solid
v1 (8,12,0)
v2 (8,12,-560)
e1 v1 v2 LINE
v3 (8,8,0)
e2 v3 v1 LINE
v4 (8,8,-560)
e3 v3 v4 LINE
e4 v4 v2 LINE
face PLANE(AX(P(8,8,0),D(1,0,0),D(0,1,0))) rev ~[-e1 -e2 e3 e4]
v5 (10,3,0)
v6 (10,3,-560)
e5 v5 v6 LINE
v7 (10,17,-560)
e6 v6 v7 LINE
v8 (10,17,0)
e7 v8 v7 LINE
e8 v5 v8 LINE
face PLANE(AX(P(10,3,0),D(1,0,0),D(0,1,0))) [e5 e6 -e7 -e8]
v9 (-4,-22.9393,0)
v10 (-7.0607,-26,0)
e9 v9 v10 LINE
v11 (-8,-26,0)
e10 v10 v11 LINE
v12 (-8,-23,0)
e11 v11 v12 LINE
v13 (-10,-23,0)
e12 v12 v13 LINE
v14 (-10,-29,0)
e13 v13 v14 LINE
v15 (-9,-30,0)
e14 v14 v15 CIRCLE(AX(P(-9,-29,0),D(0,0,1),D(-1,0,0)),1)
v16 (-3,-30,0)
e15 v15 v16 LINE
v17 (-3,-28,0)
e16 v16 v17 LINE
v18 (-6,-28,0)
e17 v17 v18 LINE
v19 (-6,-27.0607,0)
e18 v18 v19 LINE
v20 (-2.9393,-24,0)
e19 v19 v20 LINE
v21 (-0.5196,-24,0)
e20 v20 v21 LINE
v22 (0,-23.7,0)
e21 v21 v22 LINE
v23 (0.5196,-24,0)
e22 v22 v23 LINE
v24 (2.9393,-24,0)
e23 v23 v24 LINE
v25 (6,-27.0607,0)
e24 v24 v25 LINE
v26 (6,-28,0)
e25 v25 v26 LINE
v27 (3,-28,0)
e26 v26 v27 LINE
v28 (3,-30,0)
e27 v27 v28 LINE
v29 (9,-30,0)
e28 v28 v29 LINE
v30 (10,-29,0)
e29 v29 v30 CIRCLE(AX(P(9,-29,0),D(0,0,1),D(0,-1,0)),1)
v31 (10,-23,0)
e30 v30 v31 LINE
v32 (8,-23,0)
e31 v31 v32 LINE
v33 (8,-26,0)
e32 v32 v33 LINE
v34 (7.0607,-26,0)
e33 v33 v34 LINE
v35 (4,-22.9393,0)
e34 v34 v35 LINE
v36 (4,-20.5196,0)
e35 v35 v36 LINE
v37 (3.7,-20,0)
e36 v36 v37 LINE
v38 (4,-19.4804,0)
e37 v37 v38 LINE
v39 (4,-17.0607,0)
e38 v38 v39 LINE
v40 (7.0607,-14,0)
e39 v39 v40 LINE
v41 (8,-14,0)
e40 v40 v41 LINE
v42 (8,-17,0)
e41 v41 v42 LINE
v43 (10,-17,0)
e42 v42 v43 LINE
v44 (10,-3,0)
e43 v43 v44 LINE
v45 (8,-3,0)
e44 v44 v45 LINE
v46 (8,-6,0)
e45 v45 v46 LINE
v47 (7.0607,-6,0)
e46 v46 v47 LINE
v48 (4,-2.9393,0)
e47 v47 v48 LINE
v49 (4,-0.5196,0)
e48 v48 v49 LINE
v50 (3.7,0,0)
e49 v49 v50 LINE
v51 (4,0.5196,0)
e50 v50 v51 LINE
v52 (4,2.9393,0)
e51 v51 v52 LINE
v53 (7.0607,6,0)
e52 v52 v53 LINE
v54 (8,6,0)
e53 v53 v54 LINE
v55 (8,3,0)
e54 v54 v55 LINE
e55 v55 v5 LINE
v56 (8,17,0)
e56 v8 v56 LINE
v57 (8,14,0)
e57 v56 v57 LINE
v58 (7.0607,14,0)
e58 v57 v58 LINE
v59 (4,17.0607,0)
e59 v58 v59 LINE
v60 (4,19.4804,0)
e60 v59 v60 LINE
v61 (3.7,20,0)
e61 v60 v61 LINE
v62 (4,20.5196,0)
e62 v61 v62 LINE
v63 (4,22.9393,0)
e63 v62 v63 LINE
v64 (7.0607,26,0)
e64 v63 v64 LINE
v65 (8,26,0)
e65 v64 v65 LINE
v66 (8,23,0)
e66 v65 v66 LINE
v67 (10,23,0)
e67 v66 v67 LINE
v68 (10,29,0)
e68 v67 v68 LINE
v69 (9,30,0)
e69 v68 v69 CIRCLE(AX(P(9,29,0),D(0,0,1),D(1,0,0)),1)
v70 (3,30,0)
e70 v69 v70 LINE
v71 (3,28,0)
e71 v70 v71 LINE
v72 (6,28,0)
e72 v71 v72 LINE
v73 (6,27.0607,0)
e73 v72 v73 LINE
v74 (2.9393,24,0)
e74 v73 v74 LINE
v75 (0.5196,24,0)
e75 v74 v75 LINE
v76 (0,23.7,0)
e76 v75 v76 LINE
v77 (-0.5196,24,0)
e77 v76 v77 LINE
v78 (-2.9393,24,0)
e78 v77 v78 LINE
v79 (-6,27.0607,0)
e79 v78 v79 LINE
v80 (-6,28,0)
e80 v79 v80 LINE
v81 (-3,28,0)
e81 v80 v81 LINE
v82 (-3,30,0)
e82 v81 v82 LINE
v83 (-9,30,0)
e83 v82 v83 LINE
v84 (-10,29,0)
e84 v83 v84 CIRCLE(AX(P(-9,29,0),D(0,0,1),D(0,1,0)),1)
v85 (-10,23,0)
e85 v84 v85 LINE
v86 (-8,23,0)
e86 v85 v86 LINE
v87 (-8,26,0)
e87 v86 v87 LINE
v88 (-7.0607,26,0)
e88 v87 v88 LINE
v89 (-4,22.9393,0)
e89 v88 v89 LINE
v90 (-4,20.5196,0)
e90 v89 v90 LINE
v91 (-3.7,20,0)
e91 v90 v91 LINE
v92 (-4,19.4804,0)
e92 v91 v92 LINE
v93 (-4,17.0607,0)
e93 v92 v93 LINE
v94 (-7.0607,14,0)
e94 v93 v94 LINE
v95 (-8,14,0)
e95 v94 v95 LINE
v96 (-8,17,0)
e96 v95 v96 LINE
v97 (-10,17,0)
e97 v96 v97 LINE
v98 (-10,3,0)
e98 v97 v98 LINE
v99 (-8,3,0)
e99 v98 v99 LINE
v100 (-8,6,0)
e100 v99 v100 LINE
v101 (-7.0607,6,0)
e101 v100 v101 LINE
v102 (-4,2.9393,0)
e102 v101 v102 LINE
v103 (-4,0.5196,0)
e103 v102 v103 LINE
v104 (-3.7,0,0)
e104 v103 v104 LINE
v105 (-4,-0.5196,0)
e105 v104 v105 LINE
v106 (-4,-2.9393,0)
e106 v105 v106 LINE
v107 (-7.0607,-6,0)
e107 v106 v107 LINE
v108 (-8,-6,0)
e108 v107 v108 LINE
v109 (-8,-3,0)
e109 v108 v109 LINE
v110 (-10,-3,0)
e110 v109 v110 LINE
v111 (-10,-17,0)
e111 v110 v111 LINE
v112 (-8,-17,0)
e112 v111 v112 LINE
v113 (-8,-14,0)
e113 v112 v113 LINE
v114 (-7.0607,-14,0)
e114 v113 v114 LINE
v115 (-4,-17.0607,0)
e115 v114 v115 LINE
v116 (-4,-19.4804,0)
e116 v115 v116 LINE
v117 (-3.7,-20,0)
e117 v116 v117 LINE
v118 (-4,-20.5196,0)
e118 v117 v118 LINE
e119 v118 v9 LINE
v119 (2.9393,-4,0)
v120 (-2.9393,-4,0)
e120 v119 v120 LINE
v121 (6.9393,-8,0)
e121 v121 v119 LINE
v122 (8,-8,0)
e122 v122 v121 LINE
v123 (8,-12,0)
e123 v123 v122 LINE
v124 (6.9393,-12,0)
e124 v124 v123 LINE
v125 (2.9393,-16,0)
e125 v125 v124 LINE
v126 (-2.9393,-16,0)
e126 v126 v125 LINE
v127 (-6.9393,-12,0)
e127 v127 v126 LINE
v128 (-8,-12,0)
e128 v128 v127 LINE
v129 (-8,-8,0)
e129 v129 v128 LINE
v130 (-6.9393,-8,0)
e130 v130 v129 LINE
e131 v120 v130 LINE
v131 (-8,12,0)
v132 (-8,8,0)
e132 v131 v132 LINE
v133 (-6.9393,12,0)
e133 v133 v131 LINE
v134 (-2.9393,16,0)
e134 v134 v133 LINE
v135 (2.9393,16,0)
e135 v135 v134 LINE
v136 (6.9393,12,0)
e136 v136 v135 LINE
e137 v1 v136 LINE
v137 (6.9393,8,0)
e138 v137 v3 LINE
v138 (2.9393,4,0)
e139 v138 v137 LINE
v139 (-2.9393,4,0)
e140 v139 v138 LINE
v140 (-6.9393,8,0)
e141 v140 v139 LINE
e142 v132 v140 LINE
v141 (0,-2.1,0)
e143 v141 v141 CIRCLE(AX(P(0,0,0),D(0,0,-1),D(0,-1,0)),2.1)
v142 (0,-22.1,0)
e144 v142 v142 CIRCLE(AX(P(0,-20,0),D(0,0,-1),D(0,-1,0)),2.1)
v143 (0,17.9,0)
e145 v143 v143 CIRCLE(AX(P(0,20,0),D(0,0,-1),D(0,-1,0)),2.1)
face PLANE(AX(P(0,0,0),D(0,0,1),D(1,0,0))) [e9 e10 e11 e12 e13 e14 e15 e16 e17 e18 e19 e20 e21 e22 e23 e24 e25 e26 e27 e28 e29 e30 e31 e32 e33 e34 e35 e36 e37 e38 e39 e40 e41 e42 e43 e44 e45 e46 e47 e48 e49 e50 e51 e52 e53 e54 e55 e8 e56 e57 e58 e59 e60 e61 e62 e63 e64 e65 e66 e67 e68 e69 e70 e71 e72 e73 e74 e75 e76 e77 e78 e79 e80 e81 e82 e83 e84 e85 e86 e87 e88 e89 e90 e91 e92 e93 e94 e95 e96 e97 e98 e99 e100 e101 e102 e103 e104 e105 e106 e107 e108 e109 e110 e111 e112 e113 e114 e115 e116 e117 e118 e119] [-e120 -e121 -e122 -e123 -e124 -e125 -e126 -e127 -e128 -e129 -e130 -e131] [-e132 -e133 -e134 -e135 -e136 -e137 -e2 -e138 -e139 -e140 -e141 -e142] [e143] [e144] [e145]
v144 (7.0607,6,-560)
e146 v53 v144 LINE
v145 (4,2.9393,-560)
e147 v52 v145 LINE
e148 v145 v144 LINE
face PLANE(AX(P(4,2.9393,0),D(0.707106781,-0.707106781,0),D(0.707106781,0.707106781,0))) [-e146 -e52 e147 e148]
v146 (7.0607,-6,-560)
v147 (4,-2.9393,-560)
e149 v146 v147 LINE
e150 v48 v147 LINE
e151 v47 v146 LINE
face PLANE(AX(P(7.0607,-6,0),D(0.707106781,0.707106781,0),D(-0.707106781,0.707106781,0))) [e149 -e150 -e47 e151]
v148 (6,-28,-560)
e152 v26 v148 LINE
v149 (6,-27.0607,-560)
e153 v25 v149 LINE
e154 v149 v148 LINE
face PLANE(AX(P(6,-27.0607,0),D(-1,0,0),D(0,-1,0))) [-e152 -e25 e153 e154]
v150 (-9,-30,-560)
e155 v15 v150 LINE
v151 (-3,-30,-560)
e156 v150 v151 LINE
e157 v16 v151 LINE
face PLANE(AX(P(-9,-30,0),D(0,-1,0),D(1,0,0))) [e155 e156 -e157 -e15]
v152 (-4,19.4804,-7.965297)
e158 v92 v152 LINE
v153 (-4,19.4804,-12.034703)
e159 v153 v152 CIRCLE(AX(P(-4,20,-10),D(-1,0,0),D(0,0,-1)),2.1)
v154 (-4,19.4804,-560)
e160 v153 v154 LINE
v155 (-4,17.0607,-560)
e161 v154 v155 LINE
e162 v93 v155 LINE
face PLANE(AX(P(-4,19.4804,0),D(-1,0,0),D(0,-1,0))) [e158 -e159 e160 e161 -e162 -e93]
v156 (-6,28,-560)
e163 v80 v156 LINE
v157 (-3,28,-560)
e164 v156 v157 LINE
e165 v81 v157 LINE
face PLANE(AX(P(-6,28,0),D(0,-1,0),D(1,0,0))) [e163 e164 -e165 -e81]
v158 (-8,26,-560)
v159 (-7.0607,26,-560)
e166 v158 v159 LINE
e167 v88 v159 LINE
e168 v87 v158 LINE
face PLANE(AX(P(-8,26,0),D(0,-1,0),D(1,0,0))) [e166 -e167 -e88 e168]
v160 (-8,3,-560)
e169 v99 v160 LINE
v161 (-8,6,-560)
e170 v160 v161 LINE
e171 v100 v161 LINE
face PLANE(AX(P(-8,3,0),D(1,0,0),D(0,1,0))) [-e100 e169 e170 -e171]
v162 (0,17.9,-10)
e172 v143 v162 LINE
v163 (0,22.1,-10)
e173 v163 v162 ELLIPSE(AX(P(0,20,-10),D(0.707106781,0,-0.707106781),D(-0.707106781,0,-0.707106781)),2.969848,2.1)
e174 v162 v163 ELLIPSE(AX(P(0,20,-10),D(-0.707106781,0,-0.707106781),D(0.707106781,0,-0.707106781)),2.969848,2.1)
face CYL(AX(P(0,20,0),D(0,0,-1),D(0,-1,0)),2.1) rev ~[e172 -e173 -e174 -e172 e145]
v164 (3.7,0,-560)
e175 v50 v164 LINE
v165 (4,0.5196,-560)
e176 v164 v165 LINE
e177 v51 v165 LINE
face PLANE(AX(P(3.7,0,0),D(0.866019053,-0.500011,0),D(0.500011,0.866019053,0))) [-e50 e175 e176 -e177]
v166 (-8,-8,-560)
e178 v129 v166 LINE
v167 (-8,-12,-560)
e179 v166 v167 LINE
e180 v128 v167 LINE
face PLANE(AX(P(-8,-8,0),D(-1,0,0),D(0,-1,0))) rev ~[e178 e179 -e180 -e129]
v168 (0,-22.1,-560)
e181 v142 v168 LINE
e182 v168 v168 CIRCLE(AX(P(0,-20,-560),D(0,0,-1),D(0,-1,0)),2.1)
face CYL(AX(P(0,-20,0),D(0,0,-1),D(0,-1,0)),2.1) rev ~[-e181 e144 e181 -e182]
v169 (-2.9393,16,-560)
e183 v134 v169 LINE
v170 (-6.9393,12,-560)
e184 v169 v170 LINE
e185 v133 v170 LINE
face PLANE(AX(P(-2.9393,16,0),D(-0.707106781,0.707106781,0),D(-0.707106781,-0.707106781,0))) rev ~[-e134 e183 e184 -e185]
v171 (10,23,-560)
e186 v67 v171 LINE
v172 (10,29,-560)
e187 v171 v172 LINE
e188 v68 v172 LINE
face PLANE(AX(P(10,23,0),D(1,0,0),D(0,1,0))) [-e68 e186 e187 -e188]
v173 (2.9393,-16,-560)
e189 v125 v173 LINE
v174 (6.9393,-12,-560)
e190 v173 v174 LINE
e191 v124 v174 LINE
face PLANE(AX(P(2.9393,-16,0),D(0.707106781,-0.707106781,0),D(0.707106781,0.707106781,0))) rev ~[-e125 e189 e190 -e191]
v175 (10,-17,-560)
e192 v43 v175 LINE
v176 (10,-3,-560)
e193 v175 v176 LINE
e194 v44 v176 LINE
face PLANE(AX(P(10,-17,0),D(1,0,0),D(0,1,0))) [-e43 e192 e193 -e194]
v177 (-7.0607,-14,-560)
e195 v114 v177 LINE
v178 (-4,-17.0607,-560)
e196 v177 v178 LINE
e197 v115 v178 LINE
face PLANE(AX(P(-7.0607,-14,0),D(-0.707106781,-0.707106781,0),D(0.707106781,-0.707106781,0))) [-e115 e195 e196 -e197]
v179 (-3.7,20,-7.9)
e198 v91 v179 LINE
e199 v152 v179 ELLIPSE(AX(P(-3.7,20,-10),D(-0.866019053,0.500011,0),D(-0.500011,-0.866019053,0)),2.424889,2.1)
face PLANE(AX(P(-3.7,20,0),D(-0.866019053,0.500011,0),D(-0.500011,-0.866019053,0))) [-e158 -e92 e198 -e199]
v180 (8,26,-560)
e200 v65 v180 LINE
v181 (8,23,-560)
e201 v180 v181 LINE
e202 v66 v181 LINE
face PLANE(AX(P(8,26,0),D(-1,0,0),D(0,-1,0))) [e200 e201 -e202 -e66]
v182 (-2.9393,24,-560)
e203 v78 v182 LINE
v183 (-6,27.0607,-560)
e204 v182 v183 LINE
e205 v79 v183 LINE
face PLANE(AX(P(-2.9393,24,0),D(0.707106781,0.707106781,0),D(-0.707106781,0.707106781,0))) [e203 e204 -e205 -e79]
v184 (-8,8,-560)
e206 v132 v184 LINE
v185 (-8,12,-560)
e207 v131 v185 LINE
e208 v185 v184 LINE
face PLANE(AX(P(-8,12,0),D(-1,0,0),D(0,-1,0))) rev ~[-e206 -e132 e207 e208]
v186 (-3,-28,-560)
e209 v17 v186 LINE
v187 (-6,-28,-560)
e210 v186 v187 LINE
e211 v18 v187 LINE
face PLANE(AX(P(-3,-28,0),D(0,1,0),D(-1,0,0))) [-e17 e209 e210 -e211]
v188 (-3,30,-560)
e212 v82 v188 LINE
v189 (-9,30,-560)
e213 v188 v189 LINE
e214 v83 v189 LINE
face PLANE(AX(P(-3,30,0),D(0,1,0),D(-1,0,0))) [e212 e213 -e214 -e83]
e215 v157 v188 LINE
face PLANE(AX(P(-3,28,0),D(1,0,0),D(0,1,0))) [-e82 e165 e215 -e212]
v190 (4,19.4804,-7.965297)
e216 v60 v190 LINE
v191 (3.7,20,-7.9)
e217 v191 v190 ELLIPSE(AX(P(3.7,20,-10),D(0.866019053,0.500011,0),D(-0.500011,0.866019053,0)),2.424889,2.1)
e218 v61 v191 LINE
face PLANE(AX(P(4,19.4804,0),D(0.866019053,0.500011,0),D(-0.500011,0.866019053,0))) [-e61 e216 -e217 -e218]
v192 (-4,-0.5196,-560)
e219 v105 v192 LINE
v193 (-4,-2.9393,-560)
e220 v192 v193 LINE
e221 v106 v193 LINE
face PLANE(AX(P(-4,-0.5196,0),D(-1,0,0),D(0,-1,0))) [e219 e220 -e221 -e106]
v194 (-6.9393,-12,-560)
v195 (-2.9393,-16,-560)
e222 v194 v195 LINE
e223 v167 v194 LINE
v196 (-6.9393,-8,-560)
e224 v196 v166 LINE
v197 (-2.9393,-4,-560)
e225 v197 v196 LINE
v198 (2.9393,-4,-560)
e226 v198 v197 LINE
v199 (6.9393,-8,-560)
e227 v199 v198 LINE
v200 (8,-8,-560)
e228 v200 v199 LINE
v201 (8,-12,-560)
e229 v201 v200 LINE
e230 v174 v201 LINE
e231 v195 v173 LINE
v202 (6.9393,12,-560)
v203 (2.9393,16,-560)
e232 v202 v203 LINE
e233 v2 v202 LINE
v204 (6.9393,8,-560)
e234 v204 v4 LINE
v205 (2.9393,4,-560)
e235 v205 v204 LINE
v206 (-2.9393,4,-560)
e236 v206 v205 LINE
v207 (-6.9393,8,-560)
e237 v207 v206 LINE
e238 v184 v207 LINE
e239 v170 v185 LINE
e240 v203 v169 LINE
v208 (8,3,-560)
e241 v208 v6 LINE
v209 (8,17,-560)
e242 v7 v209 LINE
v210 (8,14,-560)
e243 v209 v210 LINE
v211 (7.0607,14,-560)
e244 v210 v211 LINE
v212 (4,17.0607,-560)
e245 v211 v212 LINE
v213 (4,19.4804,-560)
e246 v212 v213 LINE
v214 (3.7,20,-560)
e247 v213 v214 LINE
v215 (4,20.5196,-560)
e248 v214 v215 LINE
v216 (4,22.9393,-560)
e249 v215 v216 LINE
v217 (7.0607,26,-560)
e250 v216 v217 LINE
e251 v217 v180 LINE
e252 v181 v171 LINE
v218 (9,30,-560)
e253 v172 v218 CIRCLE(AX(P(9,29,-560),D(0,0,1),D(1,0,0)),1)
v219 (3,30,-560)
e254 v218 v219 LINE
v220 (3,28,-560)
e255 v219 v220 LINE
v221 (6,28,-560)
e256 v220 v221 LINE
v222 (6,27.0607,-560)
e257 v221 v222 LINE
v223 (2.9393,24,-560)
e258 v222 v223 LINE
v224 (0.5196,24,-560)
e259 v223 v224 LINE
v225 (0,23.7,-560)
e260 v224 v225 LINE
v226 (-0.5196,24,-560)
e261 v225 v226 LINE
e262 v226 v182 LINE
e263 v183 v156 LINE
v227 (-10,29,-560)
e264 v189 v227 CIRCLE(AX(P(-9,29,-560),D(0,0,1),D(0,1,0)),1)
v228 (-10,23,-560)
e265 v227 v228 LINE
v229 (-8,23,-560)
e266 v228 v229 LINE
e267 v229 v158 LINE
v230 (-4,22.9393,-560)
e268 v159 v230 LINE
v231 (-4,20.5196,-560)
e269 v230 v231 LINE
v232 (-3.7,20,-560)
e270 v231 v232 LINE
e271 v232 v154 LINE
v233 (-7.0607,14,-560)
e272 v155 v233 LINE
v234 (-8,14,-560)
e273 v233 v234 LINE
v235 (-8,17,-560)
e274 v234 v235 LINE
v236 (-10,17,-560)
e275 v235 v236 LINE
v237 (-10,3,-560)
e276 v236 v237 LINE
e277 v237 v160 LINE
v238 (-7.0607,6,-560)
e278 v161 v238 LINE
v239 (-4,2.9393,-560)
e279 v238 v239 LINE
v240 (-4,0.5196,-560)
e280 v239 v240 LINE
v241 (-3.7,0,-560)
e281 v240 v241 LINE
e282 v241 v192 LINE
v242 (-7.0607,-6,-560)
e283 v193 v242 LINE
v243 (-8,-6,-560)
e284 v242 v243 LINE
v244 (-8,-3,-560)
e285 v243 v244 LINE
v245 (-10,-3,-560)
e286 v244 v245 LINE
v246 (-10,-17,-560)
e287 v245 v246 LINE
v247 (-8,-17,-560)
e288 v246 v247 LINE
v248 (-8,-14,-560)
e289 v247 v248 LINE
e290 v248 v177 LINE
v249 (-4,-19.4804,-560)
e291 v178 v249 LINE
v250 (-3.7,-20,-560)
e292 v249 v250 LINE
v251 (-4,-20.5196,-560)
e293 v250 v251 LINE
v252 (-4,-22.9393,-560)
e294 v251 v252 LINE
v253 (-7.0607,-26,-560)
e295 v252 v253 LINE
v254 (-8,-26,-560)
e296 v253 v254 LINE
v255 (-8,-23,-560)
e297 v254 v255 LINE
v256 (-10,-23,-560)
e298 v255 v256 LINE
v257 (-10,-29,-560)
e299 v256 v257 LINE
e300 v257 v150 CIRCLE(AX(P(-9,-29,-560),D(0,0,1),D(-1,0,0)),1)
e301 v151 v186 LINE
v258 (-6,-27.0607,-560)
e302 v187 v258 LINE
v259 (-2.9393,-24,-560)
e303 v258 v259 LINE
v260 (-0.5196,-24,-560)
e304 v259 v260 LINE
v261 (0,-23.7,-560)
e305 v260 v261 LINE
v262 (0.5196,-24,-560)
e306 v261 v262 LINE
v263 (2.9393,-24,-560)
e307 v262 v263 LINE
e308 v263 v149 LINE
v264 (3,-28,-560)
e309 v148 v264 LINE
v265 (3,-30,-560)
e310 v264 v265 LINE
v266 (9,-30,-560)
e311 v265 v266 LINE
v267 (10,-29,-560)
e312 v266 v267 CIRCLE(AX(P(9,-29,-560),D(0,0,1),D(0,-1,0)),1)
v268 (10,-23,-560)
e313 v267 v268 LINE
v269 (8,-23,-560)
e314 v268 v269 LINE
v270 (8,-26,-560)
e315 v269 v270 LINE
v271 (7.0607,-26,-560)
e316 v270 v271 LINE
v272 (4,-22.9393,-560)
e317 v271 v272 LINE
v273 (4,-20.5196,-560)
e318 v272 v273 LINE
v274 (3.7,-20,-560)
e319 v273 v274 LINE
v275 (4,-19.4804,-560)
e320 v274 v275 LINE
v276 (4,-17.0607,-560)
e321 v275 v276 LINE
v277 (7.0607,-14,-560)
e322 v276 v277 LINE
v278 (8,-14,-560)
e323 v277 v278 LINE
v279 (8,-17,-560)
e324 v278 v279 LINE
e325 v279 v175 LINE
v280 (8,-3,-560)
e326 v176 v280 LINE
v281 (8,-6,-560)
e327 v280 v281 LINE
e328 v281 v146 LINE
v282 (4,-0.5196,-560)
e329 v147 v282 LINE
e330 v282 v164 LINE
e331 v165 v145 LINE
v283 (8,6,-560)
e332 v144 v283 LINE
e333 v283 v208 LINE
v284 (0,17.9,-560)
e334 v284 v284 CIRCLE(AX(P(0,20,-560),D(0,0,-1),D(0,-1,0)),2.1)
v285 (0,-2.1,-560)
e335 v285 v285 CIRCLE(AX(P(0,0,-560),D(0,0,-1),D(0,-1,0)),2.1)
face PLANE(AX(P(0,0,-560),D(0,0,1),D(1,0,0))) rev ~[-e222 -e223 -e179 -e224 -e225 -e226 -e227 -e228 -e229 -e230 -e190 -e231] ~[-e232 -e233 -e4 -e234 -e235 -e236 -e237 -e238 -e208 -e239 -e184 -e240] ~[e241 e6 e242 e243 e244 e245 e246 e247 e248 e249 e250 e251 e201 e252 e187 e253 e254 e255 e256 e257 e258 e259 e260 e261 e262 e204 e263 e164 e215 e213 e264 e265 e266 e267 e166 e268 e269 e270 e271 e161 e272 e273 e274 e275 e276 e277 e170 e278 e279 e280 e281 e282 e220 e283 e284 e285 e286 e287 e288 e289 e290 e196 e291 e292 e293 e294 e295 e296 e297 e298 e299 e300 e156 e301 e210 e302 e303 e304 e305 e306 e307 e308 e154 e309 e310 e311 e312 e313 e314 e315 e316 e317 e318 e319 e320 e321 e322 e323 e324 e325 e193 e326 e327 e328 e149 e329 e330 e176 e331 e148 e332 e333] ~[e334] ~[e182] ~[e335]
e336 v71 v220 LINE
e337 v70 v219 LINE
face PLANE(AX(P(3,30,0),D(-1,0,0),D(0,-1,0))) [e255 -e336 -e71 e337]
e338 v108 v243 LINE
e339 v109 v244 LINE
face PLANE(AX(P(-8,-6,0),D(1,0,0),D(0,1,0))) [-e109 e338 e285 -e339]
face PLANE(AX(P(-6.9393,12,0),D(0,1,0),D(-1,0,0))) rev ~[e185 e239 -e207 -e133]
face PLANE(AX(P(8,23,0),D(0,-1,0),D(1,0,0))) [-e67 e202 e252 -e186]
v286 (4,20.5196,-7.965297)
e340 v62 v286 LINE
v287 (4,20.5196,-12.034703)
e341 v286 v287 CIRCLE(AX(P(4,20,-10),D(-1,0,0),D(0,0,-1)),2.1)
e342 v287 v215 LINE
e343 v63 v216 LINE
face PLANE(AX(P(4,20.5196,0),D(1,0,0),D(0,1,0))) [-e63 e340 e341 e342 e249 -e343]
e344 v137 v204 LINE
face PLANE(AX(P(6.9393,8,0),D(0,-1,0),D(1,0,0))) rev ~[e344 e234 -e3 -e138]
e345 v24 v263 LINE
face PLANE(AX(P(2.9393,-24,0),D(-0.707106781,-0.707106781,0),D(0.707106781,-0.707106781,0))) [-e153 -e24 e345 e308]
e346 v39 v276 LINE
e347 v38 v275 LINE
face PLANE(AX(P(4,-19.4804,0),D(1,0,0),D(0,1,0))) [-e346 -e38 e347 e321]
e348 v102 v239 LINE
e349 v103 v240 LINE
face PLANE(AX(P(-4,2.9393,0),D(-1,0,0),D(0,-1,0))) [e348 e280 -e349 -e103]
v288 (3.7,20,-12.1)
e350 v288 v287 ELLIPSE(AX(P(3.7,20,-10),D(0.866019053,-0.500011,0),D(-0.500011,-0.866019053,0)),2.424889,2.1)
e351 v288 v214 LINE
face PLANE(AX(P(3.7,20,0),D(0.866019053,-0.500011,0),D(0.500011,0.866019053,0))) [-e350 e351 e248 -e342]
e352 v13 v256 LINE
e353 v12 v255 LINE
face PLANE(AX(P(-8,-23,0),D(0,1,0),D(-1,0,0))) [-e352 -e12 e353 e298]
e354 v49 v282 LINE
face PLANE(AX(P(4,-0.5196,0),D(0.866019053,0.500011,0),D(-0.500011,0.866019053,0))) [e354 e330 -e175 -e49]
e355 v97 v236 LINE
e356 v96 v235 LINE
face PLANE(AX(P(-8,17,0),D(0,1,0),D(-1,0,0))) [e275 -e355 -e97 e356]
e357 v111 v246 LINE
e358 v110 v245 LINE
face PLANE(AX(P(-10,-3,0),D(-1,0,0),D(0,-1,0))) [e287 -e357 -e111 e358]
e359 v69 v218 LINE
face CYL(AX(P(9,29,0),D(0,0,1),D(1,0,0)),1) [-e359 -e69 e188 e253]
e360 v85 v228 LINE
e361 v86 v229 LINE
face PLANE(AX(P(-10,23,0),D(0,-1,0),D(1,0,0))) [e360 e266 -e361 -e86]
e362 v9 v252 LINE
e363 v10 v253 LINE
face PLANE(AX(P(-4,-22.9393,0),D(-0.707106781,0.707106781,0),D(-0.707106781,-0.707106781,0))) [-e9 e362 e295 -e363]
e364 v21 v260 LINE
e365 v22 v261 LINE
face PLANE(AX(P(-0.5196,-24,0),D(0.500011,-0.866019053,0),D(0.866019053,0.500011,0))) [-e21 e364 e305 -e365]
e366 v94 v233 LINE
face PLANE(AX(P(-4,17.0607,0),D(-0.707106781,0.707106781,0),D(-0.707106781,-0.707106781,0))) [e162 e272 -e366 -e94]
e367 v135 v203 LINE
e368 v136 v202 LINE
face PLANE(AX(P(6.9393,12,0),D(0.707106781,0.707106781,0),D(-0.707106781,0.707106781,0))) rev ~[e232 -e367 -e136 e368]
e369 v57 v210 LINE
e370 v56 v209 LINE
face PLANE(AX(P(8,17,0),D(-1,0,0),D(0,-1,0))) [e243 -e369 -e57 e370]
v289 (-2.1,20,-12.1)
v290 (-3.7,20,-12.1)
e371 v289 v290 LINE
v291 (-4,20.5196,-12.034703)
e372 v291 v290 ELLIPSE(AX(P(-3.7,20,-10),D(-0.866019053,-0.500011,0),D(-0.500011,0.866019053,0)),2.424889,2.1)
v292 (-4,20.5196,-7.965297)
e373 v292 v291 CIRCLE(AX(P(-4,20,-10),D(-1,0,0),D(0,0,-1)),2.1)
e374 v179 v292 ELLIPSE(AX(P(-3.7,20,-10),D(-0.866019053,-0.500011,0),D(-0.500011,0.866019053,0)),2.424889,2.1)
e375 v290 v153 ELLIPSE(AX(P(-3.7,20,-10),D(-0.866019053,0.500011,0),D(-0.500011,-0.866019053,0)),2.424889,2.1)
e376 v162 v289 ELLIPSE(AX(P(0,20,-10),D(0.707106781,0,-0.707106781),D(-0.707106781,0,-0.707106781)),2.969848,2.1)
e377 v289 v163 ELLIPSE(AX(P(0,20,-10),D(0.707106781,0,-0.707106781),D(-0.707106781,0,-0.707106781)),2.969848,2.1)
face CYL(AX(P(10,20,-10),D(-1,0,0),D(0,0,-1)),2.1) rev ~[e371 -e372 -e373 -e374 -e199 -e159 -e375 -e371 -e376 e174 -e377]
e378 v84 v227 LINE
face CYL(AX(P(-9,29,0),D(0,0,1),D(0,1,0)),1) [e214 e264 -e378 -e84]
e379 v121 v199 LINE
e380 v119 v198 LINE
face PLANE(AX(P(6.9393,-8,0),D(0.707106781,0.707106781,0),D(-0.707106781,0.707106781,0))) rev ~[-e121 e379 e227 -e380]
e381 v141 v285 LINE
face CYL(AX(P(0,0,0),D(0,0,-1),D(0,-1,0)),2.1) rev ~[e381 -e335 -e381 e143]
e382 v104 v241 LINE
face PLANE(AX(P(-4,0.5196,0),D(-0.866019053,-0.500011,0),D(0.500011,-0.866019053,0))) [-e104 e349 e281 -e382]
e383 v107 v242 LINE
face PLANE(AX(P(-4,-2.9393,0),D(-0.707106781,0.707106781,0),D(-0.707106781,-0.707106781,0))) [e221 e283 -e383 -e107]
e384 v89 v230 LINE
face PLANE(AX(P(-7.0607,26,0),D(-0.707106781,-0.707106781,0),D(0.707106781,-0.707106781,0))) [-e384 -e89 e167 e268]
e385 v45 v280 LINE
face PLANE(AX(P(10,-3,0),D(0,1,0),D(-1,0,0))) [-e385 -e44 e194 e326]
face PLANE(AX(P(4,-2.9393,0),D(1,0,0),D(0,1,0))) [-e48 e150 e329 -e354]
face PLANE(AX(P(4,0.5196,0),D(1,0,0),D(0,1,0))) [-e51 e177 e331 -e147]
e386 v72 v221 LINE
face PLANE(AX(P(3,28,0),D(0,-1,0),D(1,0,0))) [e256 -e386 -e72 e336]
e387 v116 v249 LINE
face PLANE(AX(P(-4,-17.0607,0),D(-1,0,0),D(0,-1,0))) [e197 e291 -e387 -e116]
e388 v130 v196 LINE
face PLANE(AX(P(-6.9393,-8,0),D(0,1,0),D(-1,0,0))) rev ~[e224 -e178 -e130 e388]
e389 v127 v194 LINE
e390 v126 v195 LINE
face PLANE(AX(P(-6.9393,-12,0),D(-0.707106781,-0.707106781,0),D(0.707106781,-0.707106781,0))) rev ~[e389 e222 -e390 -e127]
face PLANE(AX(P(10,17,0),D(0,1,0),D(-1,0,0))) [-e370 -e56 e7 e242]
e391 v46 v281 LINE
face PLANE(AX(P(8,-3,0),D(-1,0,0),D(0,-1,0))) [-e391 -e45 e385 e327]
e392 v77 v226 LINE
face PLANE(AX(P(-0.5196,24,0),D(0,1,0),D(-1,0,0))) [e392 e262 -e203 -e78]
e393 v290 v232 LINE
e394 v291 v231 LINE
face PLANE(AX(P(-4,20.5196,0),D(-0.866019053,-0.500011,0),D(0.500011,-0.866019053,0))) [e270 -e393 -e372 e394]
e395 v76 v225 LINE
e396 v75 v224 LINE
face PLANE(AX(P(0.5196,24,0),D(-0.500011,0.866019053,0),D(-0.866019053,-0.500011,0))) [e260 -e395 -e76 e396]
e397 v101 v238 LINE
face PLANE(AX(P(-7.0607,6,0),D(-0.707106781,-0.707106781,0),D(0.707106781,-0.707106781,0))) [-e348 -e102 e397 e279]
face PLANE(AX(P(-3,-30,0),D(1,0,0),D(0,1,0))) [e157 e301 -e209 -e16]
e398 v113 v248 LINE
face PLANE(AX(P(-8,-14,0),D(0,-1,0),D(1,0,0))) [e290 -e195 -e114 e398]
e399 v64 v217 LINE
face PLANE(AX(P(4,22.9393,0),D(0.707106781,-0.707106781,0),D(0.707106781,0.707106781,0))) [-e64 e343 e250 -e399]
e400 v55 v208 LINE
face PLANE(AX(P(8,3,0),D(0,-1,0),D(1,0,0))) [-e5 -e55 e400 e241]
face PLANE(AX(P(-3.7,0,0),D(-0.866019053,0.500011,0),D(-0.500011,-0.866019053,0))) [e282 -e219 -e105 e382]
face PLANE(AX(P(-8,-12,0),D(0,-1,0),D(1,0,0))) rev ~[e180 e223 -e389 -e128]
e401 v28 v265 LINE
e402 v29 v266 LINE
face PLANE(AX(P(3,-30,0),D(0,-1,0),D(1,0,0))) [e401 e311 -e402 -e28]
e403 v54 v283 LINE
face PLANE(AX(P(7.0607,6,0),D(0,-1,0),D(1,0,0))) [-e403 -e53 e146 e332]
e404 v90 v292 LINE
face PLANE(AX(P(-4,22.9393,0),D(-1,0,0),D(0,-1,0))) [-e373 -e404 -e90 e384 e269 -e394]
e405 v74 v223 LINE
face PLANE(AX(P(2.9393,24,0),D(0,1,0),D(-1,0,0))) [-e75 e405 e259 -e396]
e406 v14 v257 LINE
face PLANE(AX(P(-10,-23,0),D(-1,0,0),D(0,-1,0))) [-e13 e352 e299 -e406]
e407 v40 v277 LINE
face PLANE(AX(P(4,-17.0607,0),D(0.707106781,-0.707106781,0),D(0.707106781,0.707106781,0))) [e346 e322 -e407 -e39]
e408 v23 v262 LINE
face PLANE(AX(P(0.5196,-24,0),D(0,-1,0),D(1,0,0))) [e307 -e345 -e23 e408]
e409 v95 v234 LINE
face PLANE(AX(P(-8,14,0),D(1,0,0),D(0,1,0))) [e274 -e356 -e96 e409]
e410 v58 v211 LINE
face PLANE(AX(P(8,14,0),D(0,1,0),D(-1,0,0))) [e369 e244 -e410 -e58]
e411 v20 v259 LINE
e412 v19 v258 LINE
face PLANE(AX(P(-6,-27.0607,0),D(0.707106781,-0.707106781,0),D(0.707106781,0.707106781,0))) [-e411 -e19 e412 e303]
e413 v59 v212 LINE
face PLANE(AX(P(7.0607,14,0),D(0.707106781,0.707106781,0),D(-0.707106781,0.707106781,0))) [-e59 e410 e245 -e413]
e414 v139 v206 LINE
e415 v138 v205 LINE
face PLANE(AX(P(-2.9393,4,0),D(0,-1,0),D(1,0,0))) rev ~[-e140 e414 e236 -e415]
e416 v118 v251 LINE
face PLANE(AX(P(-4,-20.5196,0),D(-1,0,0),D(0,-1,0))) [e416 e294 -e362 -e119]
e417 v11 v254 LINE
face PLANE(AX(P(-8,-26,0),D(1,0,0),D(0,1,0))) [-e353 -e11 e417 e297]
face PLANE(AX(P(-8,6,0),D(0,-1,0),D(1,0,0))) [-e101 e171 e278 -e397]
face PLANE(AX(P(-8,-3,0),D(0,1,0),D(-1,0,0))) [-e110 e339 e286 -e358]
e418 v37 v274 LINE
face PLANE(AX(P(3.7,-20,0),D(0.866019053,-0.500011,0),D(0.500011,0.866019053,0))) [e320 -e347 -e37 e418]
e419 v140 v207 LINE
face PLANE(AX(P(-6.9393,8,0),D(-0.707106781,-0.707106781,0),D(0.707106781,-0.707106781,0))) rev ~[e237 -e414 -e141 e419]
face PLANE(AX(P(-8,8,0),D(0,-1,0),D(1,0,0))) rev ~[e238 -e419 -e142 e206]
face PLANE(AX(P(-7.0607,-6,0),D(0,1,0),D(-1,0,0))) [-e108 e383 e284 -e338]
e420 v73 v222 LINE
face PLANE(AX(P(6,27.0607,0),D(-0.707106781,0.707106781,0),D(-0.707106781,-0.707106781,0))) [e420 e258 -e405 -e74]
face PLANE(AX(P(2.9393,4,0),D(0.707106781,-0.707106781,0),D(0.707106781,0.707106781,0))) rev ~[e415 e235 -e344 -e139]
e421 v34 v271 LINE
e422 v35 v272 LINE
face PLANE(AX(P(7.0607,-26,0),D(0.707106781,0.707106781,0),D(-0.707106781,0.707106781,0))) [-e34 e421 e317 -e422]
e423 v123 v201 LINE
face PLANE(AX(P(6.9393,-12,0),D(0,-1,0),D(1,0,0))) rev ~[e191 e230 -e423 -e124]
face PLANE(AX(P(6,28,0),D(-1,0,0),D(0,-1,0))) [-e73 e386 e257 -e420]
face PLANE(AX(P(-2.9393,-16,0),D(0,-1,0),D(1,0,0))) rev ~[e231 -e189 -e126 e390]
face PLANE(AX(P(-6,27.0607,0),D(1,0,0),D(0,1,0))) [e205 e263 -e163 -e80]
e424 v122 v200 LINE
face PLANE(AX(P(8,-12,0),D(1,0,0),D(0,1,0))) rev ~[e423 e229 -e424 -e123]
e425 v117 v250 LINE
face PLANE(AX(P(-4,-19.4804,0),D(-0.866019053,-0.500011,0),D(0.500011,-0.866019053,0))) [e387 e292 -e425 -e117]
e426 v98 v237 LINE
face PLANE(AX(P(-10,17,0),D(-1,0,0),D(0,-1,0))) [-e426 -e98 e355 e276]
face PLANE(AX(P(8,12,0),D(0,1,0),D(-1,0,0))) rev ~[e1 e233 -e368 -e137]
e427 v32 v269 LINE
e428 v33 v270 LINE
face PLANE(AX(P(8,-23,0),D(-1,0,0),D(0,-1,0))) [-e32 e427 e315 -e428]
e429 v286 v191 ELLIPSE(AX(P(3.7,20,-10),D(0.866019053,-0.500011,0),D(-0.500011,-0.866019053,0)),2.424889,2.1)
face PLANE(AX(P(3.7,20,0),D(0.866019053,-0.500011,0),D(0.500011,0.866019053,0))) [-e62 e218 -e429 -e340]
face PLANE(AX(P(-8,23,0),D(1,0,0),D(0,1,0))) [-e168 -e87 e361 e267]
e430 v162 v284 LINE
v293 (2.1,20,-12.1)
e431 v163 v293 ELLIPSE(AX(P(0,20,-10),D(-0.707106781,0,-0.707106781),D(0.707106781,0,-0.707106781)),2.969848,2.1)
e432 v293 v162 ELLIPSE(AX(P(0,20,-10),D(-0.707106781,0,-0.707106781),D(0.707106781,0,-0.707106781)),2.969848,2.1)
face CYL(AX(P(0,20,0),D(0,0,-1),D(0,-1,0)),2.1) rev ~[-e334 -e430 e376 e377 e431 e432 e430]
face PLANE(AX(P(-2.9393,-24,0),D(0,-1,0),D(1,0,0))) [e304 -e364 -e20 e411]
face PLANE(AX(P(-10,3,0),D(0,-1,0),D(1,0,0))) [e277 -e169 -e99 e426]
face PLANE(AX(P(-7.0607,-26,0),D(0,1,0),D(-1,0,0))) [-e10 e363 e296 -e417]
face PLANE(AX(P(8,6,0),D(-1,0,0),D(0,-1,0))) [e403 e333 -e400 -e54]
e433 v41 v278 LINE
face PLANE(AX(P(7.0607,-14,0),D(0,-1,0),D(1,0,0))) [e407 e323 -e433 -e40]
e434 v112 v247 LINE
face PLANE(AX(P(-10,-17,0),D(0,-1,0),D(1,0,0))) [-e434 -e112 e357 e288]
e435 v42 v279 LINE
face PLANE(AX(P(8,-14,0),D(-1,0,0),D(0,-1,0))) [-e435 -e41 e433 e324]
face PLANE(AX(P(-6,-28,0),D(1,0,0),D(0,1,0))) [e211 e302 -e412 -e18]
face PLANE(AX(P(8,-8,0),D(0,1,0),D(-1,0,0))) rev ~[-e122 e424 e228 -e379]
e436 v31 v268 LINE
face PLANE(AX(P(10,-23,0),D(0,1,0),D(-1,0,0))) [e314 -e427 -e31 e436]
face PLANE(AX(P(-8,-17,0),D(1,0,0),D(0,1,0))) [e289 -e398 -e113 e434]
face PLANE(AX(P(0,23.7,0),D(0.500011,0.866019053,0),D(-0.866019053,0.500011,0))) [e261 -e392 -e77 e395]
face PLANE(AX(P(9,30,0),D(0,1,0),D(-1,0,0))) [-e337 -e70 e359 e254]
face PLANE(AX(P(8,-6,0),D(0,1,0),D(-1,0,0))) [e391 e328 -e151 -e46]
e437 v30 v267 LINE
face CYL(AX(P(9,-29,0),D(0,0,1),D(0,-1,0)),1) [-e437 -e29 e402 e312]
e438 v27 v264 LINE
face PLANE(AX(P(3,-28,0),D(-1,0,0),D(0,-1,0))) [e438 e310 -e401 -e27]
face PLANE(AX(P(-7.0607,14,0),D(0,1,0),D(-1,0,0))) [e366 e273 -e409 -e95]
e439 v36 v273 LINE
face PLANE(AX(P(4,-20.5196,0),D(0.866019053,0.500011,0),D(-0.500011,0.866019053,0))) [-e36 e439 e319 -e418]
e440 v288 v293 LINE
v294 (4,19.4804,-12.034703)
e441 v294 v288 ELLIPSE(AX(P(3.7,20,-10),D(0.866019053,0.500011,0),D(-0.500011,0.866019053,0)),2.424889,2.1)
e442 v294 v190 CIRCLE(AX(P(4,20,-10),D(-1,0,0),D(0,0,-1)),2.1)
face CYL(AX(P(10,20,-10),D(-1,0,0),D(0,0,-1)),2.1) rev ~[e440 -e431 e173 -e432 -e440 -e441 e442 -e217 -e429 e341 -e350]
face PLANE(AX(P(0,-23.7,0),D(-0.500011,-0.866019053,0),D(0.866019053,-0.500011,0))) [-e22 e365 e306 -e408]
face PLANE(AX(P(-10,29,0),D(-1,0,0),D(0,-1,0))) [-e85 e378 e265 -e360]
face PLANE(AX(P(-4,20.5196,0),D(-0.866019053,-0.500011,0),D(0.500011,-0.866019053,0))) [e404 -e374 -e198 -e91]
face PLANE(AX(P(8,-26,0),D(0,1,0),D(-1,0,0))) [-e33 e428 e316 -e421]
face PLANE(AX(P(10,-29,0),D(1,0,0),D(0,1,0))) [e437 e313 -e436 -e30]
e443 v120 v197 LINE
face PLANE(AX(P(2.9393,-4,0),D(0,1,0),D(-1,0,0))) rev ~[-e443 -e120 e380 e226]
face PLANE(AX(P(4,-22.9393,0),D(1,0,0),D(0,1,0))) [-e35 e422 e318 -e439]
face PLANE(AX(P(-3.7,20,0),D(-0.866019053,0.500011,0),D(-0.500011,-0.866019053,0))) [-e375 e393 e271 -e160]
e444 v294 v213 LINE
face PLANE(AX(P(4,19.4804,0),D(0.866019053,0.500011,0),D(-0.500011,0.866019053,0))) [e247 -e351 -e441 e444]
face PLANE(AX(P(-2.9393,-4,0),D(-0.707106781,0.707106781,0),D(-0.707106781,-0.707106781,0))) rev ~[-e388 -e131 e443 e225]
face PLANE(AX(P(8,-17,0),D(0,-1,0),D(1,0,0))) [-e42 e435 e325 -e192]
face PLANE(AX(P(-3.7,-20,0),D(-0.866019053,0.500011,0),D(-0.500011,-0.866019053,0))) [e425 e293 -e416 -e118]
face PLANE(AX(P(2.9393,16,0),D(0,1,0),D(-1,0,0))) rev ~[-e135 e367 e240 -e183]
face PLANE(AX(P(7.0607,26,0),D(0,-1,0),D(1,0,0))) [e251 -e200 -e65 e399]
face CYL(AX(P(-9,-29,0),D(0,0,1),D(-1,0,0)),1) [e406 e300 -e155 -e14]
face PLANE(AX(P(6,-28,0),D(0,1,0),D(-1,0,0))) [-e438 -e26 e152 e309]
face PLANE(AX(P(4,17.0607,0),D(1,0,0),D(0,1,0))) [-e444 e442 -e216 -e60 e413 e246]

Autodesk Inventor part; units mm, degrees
ref_plane "YZ Plane" through (0, 0, 0) normal (1, 0, 0) x (0, 1, 0)
ref_plane "XZ Plane" through (0, 0, 0) normal (0, 1, 0) x (-1, 0, 0)
ref_plane "XY Plane" through (0, 0, 0) normal (0, 0, 1) x (1, 0, 0)
sketch "Sketch_100" plane through (0, 0, 0) normal (0, 0, 1) x (1, 0, 0)
  line L0 (-10, -17) -> (-8, -17)
  line L1 (-8, -17) -> (-8, -14)
  line L2 (-8, -14) -> (-7.0607, -14)
  line L3 (-7.0607, -14) -> (-4, -17.0607)
  line L4 (-4, -17.0607) -> (-4, -19.4804)
  line L5 (-4, -19.4804) -> (-3.7, -20)
  line L6 (-3.7, -20) -> (-4, -20.5196)
  line L7 (-4, -20.5196) -> (-4, -22.9393)
  line L8 (-4, -22.9393) -> (-7.0607, -26)
  line L9 (-7.0607, -26) -> (-8, -26)
  line L10 (-8, -26) -> (-8, -23)
  line L11 (-8, -23) -> (-10, -23)
  line L12 (-10, -23) -> (-10, -29)
  arc A0 (-10, -29) -> (-9, -30) centre (-9, -29) ccw
  line L13 (-9, -30) -> (-3, -30)
  line L14 (-3, -30) -> (-3, -28)
  line L15 (-3, -28) -> (-6, -28)
  line L16 (-6, -28) -> (-6, -27.0607)
  line L17 (-6, -27.0607) -> (-2.9393, -24)
  line L18 (-2.9393, -24) -> (-0.5196, -24)
  line L19 (-0.5196, -24) -> (0, -23.7)
  line L20 (0, -23.7) -> (0.5196, -24)
  line L21 (0.5196, -24) -> (2.9393, -24)
  line L22 (2.9393, -24) -> (6, -27.0607)
  line L23 (6, -27.0607) -> (6, -28)
  line L24 (6, -28) -> (3, -28)
  line L25 (3, -28) -> (3, -30)
  line L26 (3, -30) -> (9, -30)
  arc A1 (9, -30) -> (10, -29) centre (9, -29) ccw
  line L27 (10, -29) -> (10, -23)
  line L28 (10, -23) -> (8, -23)
  line L29 (8, -23) -> (8, -26)
  line L30 (8, -26) -> (7.0607, -26)
  line L31 (7.0607, -26) -> (4, -22.9393)
  line L32 (4, -22.9393) -> (4, -20.5196)
  line L33 (4, -20.5196) -> (3.7, -20)
  line L34 (3.7, -20) -> (4, -19.4804)
  line L35 (4, -19.4804) -> (4, -17.0607)
  line L36 (4, -17.0607) -> (7.0607, -14)
  line L37 (7.0607, -14) -> (8, -14)
  line L38 (8, -14) -> (8, -17)
  line L39 (8, -17) -> (10, -17)
  line L40 (10, -17) -> (10, -3)
  line L41 (10, -3) -> (8, -3)
  line L42 (8, -3) -> (8, -6)
  line L43 (8, -6) -> (7.0607, -6)
  line L44 (7.0607, -6) -> (4, -2.9393)
  line L45 (4, -2.9393) -> (4, -0.5196)
  line L46 (4, -0.5196) -> (3.7, 0)
  line L47 (3.7, 0) -> (4, 0.5196)
  line L48 (4, 0.5196) -> (4, 2.9393)
  line L49 (4, 2.9393) -> (7.0607, 6)
  line L50 (7.0607, 6) -> (8, 6)
  line L51 (8, 6) -> (8, 3)
  line L52 (8, 3) -> (10, 3)
  line L53 (10, 3) -> (10, 17)
  line L54 (10, 17) -> (8, 17)
  line L55 (8, 17) -> (8, 14)
  line L56 (8, 14) -> (7.0607, 14)
  line L57 (7.0607, 14) -> (4, 17.0607)
  line L58 (4, 17.0607) -> (4, 19.4804)
  line L59 (4, 19.4804) -> (3.7, 20)
  line L60 (3.7, 20) -> (4, 20.5196)
  line L61 (4, 20.5196) -> (4, 22.9393)
  line L62 (4, 22.9393) -> (7.0607, 26)
  line L63 (7.0607, 26) -> (8, 26)
  line L64 (8, 26) -> (8, 23)
  line L65 (8, 23) -> (10, 23)
  line L66 (10, 23) -> (10, 29)
  arc A2 (10, 29) -> (9, 30) centre (9, 29) ccw
  line L67 (9, 30) -> (3, 30)
  line L68 (3, 30) -> (3, 28)
  line L69 (3, 28) -> (6, 28)
  line L70 (6, 28) -> (6, 27.0607)
  line L71 (6, 27.0607) -> (2.9393, 24)
  line L72 (2.9393, 24) -> (0.5196, 24)
  line L73 (0.5196, 24) -> (0, 23.7)
  line L74 (0, 23.7) -> (-0.5196, 24)
  line L75 (-0.5196, 24) -> (-2.9393, 24)
  line L76 (-2.9393, 24) -> (-6, 27.0607)
  line L77 (-6, 27.0607) -> (-6, 28)
  line L78 (-6, 28) -> (-3, 28)
  line L79 (-3, 28) -> (-3, 30)
  line L80 (-3, 30) -> (-9, 30)
  arc A3 (-9, 30) -> (-10, 29) centre (-9, 29) ccw
  line L81 (-10, 29) -> (-10, 23)
  line L82 (-10, 23) -> (-8, 23)
  line L83 (-8, 23) -> (-8, 26)
  line L84 (-8, 26) -> (-7.0607, 26)
  line L85 (-7.0607, 26) -> (-4, 22.9393)
  line L86 (-4, 22.9393) -> (-4, 20.5196)
  line L87 (-4, 20.5196) -> (-3.7, 20)
  line L88 (-3.7, 20) -> (-4, 19.4804)
  line L89 (-4, 19.4804) -> (-4, 17.0607)
  line L90 (-4, 17.0607) -> (-7.0607, 14)
  line L91 (-7.0607, 14) -> (-8, 14)
  line L92 (-8, 14) -> (-8, 17)
  line L93 (-8, 17) -> (-10, 17)
  line L94 (-10, 17) -> (-10, 3)
  line L95 (-10, 3) -> (-8, 3)
  line L96 (-8, 3) -> (-8, 6)
  line L97 (-8, 6) -> (-7.0607, 6)
  line L98 (-7.0607, 6) -> (-4, 2.9393)
  line L99 (-4, 2.9393) -> (-4, 0.5196)
  line L100 (-4, 0.5196) -> (-3.7, 0)
  line L101 (-3.7, 0) -> (-4, -0.5196)
  line L102 (-4, -0.5196) -> (-4, -2.9393)
  line L103 (-4, -2.9393) -> (-7.0607, -6)
  line L104 (-7.0607, -6) -> (-8, -6)
  line L105 (-8, -6) -> (-8, -3)
  line L106 (-8, -3) -> (-10, -3)
  line L107 (-10, -3) -> (-10, -17)
  line L108 (-8, 8) -> (-6.9393, 8)
  line L109 (-6.9393, 8) -> (-2.9393, 4)
  line L110 (-2.9393, 4) -> (2.9393, 4)
  line L111 (2.9393, 4) -> (6.9393, 8)
  line L112 (6.9393, 8) -> (8, 8)
  line L113 (8, 8) -> (8, 12)
  line L114 (8, 12) -> (6.9393, 12)
  line L115 (6.9393, 12) -> (2.9393, 16)
  line L116 (2.9393, 16) -> (-2.9393, 16)
  line L117 (-2.9393, 16) -> (-6.9393, 12)
  line L118 (-6.9393, 12) -> (-8, 12)
  line L119 (-8, 12) -> (-8, 8)
  line L120 (-8, -8) -> (-8, -12)
  line L121 (-8, -12) -> (-6.9393, -12)
  line L122 (-6.9393, -12) -> (-2.9393, -16)
  line L123 (-2.9393, -16) -> (2.9393, -16)
  line L124 (2.9393, -16) -> (6.9393, -12)
  line L125 (6.9393, -12) -> (8, -12)
  line L126 (8, -12) -> (8, -8)
  line L127 (8, -8) -> (6.9393, -8)
  line L128 (6.9393, -8) -> (2.9393, -4)
  line L129 (2.9393, -4) -> (-2.9393, -4)
  line L130 (-2.9393, -4) -> (-6.9393, -8)
  line L131 (-6.9393, -8) -> (-8, -8)
extrude "Extrusion1" add sketch "Sketch_100" against normal blind 560
sketch "Sketch2" plane through (0, 0, 0) normal (0, 0, 1) x (1, 0, 0)
  point P0 (0, 20)
hole "Hole1" at (0, 20, 0) direction (0, 0, -1) diameter 4.2 depth 560
pattern_linear "Rectangular Pattern1" count 3 spacing 20 along (0, -1, 0) of "Hole1"
sketch "スケッチ4" plane through (10, 3, 0) normal (1, 0, 0) x (0, 0, -1)
  line L0 (0, 0) -> (0, 14) projected
  line L1 (0, 0) -> (560, 0) projected
  line L2 (560, 14) -> (560, 0) projected
  line L3 (0, 14) -> (560, 14) projected
  line L4 (0, 17) -> (560, 17) projected
  point P0 (0, -3)
  point P1 (10, 17)
  dimension "d17" = 10
hole "穴2" at (10, 20, -10) direction (-1, 0, 0) diameter 4.2 end through all
properties part number "HFS5-2060-560"
